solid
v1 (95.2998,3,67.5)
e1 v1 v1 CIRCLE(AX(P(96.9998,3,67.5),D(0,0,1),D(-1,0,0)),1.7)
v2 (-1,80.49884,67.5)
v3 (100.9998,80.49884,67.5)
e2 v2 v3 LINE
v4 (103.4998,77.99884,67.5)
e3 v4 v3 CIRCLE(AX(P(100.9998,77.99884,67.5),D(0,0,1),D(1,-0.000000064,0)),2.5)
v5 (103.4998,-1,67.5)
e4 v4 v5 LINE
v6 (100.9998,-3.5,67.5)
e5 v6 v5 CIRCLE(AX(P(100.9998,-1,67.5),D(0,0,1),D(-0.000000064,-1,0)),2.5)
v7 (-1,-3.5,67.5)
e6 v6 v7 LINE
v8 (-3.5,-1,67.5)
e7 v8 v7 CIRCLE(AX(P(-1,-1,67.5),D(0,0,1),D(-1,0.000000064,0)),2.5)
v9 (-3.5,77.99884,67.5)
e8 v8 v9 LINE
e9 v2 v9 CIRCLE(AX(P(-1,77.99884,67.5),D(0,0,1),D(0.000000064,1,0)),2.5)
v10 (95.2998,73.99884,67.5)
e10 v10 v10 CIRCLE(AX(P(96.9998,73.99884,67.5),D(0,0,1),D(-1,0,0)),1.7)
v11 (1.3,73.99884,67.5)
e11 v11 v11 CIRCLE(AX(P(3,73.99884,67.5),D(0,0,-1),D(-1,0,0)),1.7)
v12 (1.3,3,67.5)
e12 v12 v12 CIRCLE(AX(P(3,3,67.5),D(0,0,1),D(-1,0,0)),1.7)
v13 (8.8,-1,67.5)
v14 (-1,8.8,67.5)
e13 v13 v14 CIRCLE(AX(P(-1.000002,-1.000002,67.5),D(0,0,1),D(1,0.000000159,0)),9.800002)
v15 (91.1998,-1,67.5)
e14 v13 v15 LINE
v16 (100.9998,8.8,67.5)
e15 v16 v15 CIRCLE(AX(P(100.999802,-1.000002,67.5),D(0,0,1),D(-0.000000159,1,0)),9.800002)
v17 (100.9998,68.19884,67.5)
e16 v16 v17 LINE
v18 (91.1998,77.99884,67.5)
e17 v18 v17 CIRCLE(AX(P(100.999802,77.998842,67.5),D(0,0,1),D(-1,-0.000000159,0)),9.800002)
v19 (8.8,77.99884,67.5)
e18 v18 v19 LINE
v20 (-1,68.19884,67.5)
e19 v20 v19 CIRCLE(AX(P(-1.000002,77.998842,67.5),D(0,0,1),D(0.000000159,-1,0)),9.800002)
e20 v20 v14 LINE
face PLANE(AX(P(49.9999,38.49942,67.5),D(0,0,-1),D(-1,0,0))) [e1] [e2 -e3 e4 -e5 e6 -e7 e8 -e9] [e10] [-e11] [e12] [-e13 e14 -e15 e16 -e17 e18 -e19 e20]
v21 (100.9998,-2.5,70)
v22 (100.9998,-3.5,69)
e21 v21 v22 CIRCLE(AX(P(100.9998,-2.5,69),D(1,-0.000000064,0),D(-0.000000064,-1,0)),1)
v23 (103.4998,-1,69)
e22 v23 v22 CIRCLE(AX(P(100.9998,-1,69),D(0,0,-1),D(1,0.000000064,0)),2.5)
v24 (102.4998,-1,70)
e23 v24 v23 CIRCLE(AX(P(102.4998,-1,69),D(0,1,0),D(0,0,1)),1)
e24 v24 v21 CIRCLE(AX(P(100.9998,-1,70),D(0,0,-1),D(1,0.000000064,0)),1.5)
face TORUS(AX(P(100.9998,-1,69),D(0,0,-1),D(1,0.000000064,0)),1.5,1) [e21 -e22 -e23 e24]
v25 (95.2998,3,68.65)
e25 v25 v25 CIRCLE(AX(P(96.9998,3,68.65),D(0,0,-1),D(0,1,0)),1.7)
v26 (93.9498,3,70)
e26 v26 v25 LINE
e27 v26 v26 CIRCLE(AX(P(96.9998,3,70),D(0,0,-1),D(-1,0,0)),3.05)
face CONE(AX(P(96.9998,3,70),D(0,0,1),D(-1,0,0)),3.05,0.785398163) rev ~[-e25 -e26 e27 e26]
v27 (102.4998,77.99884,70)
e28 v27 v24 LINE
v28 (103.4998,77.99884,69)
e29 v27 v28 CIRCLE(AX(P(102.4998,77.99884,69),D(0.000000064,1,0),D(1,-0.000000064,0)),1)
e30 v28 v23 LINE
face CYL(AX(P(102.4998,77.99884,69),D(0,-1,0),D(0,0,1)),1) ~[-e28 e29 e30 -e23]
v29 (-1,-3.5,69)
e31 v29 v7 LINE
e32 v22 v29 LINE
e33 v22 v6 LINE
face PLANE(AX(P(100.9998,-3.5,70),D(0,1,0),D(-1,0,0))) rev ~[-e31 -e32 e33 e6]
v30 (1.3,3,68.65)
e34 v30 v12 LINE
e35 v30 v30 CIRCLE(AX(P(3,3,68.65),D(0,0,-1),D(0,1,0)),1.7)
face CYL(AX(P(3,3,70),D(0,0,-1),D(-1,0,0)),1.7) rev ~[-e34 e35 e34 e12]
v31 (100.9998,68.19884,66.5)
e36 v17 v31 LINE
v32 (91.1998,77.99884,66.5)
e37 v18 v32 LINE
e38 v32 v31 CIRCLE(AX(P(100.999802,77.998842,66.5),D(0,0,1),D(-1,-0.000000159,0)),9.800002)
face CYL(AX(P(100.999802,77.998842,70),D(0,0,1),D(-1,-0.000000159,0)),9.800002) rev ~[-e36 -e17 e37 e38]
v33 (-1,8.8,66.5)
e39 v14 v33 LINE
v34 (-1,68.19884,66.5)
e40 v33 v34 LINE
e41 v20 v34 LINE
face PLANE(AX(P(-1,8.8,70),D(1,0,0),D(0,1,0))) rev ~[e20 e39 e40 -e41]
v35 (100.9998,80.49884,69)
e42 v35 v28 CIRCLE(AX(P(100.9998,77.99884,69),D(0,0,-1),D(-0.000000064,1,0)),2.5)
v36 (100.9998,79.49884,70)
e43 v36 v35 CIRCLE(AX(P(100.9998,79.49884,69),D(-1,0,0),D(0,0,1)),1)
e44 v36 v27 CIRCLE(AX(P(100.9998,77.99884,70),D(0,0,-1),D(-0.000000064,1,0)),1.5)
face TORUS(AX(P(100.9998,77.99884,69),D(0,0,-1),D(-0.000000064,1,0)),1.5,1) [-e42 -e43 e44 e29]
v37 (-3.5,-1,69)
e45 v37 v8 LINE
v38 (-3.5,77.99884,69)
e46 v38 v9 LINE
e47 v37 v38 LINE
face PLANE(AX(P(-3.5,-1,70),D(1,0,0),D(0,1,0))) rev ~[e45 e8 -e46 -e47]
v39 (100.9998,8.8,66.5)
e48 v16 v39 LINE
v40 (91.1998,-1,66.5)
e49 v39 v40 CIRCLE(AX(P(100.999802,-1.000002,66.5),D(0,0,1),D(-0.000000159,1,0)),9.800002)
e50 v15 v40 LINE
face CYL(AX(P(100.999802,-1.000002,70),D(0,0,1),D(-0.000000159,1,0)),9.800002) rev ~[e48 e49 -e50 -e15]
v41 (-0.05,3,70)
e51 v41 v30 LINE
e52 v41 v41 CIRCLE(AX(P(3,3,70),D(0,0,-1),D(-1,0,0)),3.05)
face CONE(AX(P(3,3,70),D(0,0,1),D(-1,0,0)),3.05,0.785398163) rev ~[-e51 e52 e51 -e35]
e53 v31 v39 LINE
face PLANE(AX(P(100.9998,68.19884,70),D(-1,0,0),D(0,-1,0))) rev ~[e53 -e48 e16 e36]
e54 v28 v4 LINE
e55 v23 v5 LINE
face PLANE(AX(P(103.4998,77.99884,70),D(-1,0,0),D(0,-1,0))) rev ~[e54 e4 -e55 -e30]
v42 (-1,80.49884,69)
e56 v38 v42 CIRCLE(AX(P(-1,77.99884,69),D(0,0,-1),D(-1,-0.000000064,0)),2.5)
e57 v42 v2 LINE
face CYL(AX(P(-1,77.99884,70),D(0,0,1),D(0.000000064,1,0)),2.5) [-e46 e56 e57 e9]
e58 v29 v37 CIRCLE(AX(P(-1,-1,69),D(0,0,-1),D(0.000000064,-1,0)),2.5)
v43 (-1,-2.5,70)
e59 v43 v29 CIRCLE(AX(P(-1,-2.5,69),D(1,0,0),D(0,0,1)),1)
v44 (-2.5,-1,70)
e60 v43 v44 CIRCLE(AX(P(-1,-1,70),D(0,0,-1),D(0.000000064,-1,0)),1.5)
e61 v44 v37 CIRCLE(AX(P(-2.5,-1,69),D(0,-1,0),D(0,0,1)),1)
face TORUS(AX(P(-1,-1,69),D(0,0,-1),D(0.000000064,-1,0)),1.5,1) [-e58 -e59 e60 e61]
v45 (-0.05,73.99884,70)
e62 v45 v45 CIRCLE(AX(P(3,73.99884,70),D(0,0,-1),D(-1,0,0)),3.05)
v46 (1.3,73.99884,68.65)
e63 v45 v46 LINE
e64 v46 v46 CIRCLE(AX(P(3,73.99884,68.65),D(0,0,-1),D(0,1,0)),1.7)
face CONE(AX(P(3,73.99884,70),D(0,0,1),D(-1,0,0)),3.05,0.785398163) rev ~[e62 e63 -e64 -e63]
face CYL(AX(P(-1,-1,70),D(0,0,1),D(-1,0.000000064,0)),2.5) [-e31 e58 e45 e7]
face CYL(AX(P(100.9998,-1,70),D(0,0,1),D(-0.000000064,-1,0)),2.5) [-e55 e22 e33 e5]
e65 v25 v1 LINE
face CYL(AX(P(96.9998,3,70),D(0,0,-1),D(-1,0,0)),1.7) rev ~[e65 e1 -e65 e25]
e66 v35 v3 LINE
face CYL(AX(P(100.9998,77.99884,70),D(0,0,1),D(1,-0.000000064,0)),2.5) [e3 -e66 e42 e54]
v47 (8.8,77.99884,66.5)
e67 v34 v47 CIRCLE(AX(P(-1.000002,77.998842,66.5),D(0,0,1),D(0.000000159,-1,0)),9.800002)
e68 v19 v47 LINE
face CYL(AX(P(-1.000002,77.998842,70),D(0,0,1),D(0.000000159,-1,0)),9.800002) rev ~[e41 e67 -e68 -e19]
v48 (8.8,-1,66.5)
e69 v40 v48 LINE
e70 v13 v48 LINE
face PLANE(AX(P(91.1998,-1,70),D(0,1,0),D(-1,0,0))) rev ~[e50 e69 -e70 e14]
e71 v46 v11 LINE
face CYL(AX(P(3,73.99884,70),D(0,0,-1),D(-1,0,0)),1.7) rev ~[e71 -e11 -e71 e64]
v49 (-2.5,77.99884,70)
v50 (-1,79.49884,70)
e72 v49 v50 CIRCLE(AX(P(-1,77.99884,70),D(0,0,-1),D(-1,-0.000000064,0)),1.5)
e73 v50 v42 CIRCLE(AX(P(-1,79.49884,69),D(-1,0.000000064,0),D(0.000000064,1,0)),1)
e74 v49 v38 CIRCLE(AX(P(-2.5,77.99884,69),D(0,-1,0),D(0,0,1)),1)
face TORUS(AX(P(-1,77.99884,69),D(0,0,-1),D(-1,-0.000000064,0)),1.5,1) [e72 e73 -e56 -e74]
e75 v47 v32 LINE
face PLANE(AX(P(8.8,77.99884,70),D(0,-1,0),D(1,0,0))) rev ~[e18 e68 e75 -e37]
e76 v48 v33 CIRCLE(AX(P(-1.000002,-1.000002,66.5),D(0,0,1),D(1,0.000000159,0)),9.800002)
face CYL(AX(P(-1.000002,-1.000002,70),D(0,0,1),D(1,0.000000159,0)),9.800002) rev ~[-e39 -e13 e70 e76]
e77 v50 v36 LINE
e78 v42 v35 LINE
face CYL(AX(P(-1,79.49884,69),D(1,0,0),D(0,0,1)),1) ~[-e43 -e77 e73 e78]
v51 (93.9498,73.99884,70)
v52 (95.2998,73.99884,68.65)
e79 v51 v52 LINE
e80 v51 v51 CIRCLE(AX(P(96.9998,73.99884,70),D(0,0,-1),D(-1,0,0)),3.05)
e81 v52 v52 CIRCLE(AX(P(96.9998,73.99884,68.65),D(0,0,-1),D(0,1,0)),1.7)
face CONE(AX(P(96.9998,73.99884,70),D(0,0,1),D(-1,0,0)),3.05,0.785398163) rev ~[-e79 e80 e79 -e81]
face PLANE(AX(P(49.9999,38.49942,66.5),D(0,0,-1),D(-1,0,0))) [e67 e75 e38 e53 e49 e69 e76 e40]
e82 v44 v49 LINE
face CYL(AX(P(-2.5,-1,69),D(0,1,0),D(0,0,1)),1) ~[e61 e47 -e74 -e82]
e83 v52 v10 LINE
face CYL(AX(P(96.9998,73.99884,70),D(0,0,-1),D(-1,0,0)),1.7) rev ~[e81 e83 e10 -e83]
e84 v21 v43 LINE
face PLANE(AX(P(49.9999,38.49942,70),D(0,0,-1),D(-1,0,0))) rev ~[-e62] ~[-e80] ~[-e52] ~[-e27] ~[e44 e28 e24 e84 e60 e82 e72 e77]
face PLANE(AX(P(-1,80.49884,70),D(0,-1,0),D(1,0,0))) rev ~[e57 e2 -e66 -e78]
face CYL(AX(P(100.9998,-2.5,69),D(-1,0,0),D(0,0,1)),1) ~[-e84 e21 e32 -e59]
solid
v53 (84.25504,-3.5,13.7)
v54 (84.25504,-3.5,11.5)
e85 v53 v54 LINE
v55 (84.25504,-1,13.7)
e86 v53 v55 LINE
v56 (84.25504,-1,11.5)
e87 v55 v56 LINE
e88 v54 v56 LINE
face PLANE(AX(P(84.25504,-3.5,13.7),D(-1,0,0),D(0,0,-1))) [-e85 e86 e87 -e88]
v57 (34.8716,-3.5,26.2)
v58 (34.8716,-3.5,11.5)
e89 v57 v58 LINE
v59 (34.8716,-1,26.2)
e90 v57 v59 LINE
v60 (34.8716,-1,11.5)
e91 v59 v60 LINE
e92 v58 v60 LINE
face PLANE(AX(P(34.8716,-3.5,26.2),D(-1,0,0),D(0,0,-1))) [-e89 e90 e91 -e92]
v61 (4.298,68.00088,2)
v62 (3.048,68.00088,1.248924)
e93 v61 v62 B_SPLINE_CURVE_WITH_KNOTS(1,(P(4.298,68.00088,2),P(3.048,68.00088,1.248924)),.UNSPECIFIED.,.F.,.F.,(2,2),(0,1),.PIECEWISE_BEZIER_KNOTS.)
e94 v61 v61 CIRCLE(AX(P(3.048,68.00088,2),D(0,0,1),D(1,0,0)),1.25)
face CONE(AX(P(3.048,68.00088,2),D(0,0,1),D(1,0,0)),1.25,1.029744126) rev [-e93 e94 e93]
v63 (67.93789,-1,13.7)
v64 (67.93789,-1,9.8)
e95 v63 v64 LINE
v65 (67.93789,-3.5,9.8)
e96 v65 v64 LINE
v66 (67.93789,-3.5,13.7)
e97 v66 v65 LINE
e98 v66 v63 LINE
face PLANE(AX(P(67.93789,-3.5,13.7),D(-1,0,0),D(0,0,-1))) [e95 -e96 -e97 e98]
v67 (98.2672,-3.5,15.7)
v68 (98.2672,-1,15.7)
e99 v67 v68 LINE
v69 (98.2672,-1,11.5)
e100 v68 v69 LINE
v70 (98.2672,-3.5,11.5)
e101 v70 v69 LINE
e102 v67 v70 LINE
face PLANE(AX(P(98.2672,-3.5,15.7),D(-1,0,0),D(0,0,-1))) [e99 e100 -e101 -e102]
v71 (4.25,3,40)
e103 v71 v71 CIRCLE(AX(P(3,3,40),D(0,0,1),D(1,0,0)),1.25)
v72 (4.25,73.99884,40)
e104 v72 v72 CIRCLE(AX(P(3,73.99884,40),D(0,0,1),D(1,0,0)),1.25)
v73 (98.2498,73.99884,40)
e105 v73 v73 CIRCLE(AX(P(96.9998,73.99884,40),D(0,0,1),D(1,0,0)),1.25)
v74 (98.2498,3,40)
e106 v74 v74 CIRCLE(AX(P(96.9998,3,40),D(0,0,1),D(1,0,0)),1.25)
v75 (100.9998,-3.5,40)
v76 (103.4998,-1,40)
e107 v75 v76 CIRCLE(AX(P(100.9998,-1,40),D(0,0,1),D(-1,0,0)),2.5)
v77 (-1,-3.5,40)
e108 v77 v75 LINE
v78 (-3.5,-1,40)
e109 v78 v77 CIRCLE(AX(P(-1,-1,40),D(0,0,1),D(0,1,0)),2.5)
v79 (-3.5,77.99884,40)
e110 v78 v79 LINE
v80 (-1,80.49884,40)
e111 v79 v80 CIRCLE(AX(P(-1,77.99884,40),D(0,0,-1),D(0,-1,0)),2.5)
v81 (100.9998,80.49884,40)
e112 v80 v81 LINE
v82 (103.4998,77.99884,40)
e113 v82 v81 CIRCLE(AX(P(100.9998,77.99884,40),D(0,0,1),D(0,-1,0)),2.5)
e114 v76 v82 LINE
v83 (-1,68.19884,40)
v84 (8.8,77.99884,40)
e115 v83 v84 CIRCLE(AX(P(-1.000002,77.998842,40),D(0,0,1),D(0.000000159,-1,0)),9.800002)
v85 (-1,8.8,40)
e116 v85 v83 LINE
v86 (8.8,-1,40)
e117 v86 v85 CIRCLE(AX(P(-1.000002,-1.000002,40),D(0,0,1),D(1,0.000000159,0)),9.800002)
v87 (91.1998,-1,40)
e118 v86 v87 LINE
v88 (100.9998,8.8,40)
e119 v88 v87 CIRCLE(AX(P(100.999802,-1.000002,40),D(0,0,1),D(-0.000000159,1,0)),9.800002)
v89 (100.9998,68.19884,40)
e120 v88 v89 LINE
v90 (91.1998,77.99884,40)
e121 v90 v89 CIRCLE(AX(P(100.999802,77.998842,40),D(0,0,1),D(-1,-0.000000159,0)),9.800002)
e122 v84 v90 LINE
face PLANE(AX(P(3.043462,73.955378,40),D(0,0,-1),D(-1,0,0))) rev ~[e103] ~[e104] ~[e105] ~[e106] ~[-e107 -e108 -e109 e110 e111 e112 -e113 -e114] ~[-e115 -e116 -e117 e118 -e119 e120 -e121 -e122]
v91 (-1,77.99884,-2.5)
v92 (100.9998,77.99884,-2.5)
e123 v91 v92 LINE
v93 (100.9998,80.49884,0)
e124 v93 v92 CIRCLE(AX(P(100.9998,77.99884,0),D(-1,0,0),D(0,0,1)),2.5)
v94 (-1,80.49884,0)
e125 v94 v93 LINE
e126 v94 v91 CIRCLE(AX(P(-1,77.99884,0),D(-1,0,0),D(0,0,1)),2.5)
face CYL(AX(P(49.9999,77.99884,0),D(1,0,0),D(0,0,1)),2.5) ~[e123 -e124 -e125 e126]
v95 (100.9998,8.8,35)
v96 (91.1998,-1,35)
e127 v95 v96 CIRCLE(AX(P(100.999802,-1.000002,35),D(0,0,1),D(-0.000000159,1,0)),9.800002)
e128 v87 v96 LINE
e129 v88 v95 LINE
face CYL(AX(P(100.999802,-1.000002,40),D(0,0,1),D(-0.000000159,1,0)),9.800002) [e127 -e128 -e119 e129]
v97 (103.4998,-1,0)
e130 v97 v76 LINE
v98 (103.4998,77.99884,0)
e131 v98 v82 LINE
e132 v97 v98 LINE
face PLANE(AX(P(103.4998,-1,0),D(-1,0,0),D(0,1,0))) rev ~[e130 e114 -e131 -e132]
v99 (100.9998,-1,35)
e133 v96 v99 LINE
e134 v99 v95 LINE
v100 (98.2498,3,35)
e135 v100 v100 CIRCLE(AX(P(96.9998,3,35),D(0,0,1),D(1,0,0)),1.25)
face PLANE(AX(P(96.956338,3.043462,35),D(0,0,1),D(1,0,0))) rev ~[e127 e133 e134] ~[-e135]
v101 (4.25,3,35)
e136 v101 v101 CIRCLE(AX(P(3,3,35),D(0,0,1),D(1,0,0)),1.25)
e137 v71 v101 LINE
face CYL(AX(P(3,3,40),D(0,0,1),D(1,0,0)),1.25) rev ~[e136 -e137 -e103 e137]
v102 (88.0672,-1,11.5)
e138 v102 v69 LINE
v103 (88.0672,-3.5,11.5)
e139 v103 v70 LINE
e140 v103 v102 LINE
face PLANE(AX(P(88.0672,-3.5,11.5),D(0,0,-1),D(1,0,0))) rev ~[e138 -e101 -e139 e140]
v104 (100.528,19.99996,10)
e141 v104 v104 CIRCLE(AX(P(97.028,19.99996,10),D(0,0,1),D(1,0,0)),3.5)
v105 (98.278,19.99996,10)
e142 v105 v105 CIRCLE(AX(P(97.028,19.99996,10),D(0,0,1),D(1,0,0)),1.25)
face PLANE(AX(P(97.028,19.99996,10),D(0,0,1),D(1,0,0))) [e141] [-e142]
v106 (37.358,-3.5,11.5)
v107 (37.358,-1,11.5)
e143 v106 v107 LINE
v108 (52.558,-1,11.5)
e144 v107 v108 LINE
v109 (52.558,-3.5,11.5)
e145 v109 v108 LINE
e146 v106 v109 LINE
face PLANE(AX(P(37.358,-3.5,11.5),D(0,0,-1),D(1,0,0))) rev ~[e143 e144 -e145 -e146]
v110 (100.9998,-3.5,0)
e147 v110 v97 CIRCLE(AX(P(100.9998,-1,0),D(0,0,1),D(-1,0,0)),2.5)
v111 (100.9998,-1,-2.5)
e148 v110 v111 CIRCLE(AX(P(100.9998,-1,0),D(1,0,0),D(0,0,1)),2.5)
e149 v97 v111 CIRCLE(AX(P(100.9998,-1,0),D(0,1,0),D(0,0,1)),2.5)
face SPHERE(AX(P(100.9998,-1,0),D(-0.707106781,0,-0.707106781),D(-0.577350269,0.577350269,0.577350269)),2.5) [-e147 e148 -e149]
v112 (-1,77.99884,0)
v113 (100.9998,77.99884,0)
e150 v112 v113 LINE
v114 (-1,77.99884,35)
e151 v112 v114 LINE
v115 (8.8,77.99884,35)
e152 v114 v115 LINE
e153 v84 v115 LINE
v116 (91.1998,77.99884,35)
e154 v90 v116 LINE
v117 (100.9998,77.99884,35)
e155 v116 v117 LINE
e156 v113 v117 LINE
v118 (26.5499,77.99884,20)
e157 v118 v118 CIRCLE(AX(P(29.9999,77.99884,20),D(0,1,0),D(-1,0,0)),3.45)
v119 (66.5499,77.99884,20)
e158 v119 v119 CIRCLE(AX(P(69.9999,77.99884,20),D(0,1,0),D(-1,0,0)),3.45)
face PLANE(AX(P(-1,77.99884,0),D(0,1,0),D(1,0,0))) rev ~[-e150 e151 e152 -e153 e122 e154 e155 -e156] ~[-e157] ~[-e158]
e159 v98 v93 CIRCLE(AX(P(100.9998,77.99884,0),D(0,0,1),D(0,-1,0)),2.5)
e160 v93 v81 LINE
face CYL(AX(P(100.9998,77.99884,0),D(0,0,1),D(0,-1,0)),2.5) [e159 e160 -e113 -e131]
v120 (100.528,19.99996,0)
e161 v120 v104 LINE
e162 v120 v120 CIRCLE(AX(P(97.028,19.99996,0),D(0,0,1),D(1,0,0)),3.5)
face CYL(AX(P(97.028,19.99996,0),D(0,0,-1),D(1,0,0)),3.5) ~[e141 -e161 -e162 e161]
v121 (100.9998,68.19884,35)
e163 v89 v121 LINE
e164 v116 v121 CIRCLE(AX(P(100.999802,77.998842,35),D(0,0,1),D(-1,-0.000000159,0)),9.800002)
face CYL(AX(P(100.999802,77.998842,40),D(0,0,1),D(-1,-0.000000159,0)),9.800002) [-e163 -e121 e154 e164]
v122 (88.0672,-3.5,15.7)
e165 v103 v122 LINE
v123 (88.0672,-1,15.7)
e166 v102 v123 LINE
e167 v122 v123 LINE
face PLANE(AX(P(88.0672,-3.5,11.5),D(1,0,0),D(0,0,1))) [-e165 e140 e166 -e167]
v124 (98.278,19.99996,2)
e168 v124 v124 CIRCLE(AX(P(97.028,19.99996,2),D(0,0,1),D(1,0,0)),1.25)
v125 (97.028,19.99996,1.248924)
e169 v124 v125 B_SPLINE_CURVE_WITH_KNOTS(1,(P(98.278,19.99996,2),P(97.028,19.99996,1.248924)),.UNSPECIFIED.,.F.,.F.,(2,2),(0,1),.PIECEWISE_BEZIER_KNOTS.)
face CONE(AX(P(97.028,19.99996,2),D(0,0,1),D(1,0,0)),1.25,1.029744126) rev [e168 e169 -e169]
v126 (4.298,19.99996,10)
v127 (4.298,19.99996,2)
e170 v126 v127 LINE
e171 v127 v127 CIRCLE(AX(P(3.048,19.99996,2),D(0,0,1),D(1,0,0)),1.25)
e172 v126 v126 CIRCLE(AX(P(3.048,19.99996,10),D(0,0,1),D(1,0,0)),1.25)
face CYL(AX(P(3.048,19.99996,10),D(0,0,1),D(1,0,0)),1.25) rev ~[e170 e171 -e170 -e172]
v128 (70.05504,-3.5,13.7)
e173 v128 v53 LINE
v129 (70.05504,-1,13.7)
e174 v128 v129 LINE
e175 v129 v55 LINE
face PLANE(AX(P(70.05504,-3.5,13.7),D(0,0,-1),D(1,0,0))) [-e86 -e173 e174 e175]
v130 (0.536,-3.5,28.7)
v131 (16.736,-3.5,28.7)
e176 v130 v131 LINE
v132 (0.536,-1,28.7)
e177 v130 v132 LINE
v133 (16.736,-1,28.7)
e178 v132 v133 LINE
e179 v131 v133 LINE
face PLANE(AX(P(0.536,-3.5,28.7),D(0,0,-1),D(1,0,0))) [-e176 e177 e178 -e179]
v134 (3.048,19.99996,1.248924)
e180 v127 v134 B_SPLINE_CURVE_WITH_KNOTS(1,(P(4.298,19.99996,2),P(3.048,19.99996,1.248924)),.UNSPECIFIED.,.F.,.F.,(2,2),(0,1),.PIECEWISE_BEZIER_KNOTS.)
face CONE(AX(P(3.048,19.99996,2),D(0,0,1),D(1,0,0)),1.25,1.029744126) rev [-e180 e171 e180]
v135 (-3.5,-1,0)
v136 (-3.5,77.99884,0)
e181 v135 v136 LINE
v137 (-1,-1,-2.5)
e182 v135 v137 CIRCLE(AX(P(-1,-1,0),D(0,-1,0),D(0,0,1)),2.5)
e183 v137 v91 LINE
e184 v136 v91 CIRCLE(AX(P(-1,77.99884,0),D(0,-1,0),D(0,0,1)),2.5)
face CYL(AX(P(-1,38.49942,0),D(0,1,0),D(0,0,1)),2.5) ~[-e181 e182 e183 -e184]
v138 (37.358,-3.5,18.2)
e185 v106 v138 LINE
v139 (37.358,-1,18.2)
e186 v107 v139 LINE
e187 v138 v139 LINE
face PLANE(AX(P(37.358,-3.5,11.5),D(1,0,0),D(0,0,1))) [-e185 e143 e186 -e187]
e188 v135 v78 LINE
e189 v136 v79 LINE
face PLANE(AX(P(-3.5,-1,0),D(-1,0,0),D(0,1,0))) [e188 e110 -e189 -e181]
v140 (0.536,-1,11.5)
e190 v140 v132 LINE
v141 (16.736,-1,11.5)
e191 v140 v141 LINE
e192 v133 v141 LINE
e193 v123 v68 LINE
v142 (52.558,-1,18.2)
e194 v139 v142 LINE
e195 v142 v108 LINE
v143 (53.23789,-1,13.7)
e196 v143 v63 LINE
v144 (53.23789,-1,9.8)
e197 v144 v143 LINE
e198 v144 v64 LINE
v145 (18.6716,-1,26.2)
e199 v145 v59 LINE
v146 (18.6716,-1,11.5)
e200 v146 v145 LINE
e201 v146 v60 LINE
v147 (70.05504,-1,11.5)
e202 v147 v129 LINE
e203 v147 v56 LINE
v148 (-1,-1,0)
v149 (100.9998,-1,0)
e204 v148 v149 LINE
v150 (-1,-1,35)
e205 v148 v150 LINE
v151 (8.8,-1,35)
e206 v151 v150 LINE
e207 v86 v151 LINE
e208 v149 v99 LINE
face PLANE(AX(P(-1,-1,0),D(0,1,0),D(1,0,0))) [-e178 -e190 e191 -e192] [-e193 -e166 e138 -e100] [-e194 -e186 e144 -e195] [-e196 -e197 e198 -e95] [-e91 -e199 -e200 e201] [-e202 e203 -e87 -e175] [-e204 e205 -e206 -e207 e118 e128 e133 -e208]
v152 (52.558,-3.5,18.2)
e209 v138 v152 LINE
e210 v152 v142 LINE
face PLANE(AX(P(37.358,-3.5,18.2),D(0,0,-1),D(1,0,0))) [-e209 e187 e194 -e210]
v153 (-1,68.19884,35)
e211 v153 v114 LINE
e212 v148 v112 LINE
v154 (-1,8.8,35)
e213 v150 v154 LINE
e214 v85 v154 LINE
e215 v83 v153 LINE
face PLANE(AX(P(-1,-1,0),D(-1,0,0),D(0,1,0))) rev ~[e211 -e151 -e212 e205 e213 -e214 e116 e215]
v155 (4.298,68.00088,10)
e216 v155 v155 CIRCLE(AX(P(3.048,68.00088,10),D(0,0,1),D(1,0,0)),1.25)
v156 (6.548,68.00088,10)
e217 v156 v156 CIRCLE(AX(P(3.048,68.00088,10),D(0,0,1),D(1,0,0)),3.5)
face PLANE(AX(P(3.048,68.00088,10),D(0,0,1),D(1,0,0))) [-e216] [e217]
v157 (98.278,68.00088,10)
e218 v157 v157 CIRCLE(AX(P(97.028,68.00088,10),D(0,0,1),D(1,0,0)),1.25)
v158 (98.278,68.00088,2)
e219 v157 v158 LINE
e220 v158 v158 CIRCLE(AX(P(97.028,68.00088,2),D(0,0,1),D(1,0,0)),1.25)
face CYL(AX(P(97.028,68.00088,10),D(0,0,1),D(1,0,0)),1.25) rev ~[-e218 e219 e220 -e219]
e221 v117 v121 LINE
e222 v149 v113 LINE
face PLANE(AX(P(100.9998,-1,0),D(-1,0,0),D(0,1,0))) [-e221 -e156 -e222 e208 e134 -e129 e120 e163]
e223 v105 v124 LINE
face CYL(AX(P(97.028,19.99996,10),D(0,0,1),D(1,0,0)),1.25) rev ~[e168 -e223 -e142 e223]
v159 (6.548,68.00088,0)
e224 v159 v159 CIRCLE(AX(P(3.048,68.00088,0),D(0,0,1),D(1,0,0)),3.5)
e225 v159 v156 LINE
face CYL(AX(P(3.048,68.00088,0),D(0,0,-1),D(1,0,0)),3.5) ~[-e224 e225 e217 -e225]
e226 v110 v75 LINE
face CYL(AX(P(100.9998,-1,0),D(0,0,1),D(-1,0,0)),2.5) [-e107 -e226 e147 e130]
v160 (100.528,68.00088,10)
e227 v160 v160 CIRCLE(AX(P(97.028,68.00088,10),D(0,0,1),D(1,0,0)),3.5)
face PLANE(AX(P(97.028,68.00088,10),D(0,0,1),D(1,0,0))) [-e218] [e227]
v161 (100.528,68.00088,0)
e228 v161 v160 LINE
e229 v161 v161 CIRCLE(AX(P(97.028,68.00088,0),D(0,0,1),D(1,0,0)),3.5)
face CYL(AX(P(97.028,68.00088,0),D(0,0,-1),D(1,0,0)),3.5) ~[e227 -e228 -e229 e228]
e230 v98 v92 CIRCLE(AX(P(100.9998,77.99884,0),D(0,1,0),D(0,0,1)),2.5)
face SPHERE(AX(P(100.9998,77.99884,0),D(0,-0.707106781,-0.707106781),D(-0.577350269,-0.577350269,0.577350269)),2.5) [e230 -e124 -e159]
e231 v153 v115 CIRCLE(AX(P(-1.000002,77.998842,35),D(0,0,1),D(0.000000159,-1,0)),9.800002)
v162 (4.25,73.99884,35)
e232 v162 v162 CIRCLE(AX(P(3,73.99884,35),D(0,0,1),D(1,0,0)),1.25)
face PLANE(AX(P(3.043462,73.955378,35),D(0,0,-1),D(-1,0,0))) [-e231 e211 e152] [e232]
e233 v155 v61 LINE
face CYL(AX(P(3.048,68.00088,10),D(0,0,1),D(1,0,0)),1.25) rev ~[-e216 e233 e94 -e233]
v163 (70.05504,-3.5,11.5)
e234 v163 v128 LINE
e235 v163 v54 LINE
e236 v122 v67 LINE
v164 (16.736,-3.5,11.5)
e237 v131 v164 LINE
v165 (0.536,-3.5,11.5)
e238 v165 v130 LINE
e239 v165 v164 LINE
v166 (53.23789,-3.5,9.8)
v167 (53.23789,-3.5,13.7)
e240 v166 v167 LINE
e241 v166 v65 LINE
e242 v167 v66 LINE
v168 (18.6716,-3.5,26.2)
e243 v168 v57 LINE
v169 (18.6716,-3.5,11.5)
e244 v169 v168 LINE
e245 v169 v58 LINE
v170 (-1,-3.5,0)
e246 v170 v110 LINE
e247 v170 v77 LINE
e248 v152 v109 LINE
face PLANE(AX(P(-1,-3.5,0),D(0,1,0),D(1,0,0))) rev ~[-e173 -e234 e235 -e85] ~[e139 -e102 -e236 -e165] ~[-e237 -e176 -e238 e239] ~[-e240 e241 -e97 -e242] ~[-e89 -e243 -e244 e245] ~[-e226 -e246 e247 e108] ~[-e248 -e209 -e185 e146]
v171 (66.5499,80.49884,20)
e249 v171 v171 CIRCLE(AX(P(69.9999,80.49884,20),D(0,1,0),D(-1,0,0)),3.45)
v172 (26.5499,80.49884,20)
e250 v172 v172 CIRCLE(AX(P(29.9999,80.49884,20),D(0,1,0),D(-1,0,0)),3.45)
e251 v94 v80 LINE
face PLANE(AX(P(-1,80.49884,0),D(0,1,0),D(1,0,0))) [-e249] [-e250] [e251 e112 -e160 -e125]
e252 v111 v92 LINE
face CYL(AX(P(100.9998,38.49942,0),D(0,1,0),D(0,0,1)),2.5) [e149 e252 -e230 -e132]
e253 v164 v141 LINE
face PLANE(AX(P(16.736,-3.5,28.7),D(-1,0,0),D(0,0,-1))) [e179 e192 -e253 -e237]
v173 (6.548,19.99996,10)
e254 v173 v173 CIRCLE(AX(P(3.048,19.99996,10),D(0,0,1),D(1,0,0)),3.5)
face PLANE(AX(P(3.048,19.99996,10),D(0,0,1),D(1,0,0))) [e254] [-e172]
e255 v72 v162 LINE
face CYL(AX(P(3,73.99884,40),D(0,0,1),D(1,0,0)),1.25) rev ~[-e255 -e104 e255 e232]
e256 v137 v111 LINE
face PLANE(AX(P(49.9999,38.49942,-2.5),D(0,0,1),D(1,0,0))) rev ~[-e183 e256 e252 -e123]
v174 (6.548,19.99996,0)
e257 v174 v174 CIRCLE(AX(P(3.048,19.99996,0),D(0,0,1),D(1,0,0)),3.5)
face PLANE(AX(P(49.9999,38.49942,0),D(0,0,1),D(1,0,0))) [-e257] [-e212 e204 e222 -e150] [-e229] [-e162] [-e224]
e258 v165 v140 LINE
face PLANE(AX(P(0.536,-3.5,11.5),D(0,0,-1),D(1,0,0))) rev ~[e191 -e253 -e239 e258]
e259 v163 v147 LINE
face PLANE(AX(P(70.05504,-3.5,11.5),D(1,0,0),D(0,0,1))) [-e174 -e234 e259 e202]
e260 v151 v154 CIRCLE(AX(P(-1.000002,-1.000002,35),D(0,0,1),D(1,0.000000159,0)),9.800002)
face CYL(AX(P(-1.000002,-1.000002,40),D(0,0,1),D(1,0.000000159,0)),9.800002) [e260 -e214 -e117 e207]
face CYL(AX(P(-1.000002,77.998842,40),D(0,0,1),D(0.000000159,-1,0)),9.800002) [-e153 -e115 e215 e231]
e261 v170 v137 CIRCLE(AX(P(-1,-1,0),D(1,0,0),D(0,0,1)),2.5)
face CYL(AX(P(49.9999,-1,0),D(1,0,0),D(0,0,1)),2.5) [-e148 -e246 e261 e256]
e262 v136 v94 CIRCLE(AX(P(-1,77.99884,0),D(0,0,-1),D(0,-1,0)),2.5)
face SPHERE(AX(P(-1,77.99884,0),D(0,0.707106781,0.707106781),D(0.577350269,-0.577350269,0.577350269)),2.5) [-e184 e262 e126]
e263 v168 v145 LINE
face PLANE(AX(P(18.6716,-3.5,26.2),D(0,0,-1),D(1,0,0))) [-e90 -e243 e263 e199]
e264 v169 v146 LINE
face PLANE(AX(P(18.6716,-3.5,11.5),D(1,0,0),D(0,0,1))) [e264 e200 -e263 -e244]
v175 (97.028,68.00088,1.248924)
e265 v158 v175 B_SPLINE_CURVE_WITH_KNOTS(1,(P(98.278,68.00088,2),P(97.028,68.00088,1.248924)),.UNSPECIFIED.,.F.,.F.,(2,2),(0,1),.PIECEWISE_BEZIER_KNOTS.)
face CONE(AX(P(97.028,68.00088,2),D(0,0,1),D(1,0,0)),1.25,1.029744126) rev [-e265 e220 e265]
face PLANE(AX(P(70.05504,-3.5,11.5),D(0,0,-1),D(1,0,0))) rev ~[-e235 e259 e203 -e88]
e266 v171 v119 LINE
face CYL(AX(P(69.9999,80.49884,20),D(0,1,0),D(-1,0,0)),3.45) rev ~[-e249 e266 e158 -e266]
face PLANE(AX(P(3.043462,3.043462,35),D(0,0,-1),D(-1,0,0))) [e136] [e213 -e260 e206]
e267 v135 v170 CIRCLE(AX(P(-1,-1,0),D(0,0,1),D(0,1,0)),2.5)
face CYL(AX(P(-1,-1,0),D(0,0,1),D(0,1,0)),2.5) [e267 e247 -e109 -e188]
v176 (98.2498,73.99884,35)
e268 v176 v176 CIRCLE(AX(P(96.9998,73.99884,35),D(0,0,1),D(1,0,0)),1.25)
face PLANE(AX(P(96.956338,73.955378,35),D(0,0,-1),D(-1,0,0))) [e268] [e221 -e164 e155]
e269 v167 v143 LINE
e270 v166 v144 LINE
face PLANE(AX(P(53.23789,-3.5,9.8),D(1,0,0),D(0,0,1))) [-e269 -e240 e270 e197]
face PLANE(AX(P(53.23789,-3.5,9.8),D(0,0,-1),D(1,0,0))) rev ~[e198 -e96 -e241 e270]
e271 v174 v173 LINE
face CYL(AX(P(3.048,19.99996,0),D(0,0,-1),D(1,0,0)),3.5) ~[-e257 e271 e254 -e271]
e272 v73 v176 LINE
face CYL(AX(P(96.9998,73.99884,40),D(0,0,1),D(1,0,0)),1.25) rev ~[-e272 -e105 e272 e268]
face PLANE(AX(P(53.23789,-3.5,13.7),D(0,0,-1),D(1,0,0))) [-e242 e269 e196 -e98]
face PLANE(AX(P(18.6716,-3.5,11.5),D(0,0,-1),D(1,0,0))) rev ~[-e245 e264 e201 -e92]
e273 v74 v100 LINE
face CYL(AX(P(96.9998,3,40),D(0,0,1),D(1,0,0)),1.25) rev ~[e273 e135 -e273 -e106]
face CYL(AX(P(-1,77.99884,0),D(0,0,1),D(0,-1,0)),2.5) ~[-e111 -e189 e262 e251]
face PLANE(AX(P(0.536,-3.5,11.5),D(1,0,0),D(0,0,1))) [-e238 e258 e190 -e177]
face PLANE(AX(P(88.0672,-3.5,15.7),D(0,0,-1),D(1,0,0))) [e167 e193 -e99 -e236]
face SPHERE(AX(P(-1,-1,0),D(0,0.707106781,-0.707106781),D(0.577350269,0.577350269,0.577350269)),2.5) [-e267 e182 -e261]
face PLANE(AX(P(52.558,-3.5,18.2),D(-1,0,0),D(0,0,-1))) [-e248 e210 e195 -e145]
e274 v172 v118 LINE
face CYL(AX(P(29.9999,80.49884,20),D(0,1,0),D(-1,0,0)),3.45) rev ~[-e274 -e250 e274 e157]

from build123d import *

# Parameters (mm, degrees)
SKETCH_W            = 101.9998
SKETCH_H            = 78.99884
PAD_DEPTH           = 40
THICKNESS_T         = 2.5
SKETCH001_R         = 3.5
PAD001_DEPTH        = 10
POCKET001_DEPTH     = 2.5
PAD002_DEPTH        = 5
SKETCH005_R         = 1.25
HOLE_DEPTH          = 10
HOLE_TIPS_R         = 1.25
SKETCH009_R         = 3.45
HOLE002_DEPTH       = 25
HOLE002_TIPS_R      = 3.45
SKETCH002_R         = 1.25
HOLE003_DEPTH       = 8
HOLE003_TIPS_R      = 1.25
PAD003_DEPTH        = 2.5
PAD004_DEPTH        = 3.5
HOLE001_D           = 3.4
HOLE001_DEPTH       = 2.5
HOLE001_CSINK_D     = 6.1
HOLE001_CSINK_ANGLE = 90
HOLE001_TIPS_R      = 1.7
FILLET_R            = 1


with BuildPart() as body_bottom:
    # Sketch → Pad (new body)
    with BuildSketch(Plane.XY):
        with Locations((49.9999, 38.49942)):
            Rectangle(SKETCH_W, SKETCH_H)
    extrude(amount=PAD_DEPTH)

    # Thickness
    thickness_openings = [body_bottom.faces().sort_by_distance(p)[0] for p in [
        (49.9999, 38.49942, 40),
    ]]
    offset(amount=THICKNESS_T, openings=thickness_openings)

    # Sketch001 (on Face5 of Thickness) → Pad001 (join)
    with BuildSketch(Plane.XY):
        with Locations((3.048, 68.00088)):
            Circle(SKETCH001_R)
        with Locations((97.028, 68.00088)):
            Circle(SKETCH001_R)
        with Locations((97.028, 19.99996)):
            Circle(SKETCH001_R)
        with Locations((3.048, 19.99996)):
            Circle(SKETCH001_R)
    extrude(amount=PAD001_DEPTH)

    # Sketch003 → Pocket001 (cut)
    with BuildSketch(Plane.XZ.offset(3.5)):
        Polygon((0.536, 28.7), (16.736, 28.7), (16.736, 11.5), (8.636, 11.5), (0.536, 11.5), align=None)
        Polygon((18.6716, 26.2), (34.8716, 26.2), (34.8716, 11.5), (26.7716, 11.5), (18.6716, 11.5), align=None)
        Polygon((37.358, 18.2), (52.558, 18.2), (52.558, 11.5), (44.958, 11.5), (37.358, 11.5), align=None)
        Polygon((53.23789, 13.7), (67.93789, 13.7), (67.93789, 9.8), (60.58789, 9.8), (53.23789, 9.8), align=None)
        Polygon((70.05504, 13.7), (84.25504, 13.7), (84.25504, 11.5), (77.15504, 11.5), (70.05504, 11.5), align=None)
        Polygon((88.0672, 15.7), (98.2672, 15.7), (98.2672, 11.5), (93.1672, 11.5), (88.0672, 11.5), align=None)
    extrude(amount=-POCKET001_DEPTH, mode=Mode.SUBTRACT)

    # Sketch004 (on Face5 of Pocket001) → Pad002 (join)
    with BuildSketch(Plane.XY.offset(40)):
        with BuildLine():
            Line((-1, 77.99884), (8.8, 77.99884))
            ThreePointArc((-1, 68.19884), (5.929646, 71.069194), (8.8, 77.99884))
            Line((-1, 68.19884), (-1, 77.99884))
        make_face()
        with BuildLine():
            Line((-1, -1), (-1, 8.8))
            ThreePointArc((8.8, -1), (5.929646, 5.929646), (-1, 8.8))
            Line((8.8, -1), (-1, -1))
        make_face()
        with BuildLine():
            Line((91.1998, 77.99884), (100.9998, 77.99884))
            Line((100.9998, 77.99884), (100.9998, 68.19884))
            ThreePointArc((91.1998, 77.99884), (94.070154, 71.069194), (100.9998, 68.19884))
        make_face()
        with BuildLine():
            Line((91.1998, -1), (100.9998, -1))
            Line((100.9998, -1), (100.9998, 8.8))
            ThreePointArc((100.9998, 8.8), (94.070154, 5.929646), (91.1998, -1))
        make_face()
    extrude(amount=-PAD002_DEPTH)

    # Sketch005 (on Face17 of Pad002) → Hole (cut)
    with BuildSketch(Plane.XY.offset(40)):
        with Locations((3, 73.99884)):
            Circle(SKETCH005_R)
        with Locations((96.9998, 73.99884)):
            Circle(SKETCH005_R)
        with Locations((96.9998, 3)):
            Circle(SKETCH005_R)
        with Locations((3, 3)):
            Circle(SKETCH005_R)
    extrude(amount=-HOLE_DEPTH, mode=Mode.SUBTRACT)

    # Hole tips → Hole tip 1 section 0
    with BuildSketch(Plane.XY.offset(30), mode=Mode.PRIVATE) as hole_tip_1_s0:
        with Locations((3, 73.99884)):
            Circle(HOLE_TIPS_R)
    loft([hole_tip_1_s0.sketch, Vertex(3, 73.99884, 29.248924)], mode=Mode.SUBTRACT)

    # Hole tips → Hole tip 2 section 0
    with BuildSketch(Plane.XY.offset(30), mode=Mode.PRIVATE) as hole_tip_2_s0:
        with Locations((96.9998, 73.99884)):
            Circle(HOLE_TIPS_R)
    loft([hole_tip_2_s0.sketch, Vertex(96.9998, 73.99884, 29.248924)], mode=Mode.SUBTRACT)

    # Hole tips → Hole tip 3 section 0
    with BuildSketch(Plane.XY.offset(30), mode=Mode.PRIVATE) as hole_tip_3_s0:
        with Locations((96.9998, 3)):
            Circle(HOLE_TIPS_R)
    loft([hole_tip_3_s0.sketch, Vertex(96.9998, 3, 29.248924)], mode=Mode.SUBTRACT)

    # Hole tips → Hole tip 4 section 0
    with BuildSketch(Plane.XY.offset(30), mode=Mode.PRIVATE) as hole_tip_4_s0:
        with Locations((3, 3)):
            Circle(HOLE_TIPS_R)
    loft([hole_tip_4_s0.sketch, Vertex(3, 3, 29.248924)], mode=Mode.SUBTRACT)

    # Sketch009 (on Face24 of Hole) → Hole002 (cut)
    with BuildSketch(Plane(origin=(0, 80.49884, 0), x_dir=(-1, 0, 0), z_dir=(0, 1, 0))):
        with Locations((-69.9999, 20)):
            Circle(SKETCH009_R)
        with Locations((-29.9999, 20)):
            Circle(SKETCH009_R)
    extrude(amount=-HOLE002_DEPTH, mode=Mode.SUBTRACT)

    # Hole002 tips → Hole002 tip 1 section 0
    with BuildSketch(Plane(origin=(0, 55.49884, 0), x_dir=(-1, 0, 0), z_dir=(0, 1, 0)), mode=Mode.PRIVATE) as hole002_tip_1_s0:
        with Locations((-69.9999, 20)):
            Circle(HOLE002_TIPS_R)
    loft([hole002_tip_1_s0.sketch, Vertex(69.9999, 53.425871, 20)], mode=Mode.SUBTRACT)

    # Hole002 tips → Hole002 tip 2 section 0
    with BuildSketch(Plane(origin=(0, 55.49884, 0), x_dir=(-1, 0, 0), z_dir=(0, 1, 0)), mode=Mode.PRIVATE) as hole002_tip_2_s0:
        with Locations((-29.9999, 20)):
            Circle(HOLE002_TIPS_R)
    loft([hole002_tip_2_s0.sketch, Vertex(29.9999, 53.425871, 20)], mode=Mode.SUBTRACT)

    # Sketch002 (on Face19 of Pad001) → Hole003 (cut)
    with BuildSketch(Plane.XY.offset(10)):
        with Locations((3.048, 68.00088)):
            Circle(SKETCH002_R)
        with Locations((97.028, 68.00088)):
            Circle(SKETCH002_R)
        with Locations((97.028, 19.99996)):
            Circle(SKETCH002_R)
        with Locations((3.048, 19.99996)):
            Circle(SKETCH002_R)
    extrude(amount=-HOLE003_DEPTH, mode=Mode.SUBTRACT)

    # Hole003 tips → Hole003 tip 1 section 0
    with BuildSketch(Plane.XY.offset(2), mode=Mode.PRIVATE) as hole003_tip_1_s0:
        with Locations((3.048, 68.00088)):
            Circle(HOLE003_TIPS_R)
    loft([hole003_tip_1_s0.sketch, Vertex(3.048, 68.00088, 1.248924)], mode=Mode.SUBTRACT)

    # Hole003 tips → Hole003 tip 2 section 0
    with BuildSketch(Plane.XY.offset(2), mode=Mode.PRIVATE) as hole003_tip_2_s0:
        with Locations((97.028, 68.00088)):
            Circle(HOLE003_TIPS_R)
    loft([hole003_tip_2_s0.sketch, Vertex(97.028, 68.00088, 1.248924)], mode=Mode.SUBTRACT)

    # Hole003 tips → Hole003 tip 3 section 0
    with BuildSketch(Plane.XY.offset(2), mode=Mode.PRIVATE) as hole003_tip_3_s0:
        with Locations((97.028, 19.99996)):
            Circle(HOLE003_TIPS_R)
    loft([hole003_tip_3_s0.sketch, Vertex(97.028, 19.99996, 1.248924)], mode=Mode.SUBTRACT)

    # Hole003 tips → Hole003 tip 4 section 0
    with BuildSketch(Plane.XY.offset(2), mode=Mode.PRIVATE) as hole003_tip_4_s0:
        with Locations((3.048, 19.99996)):
            Circle(HOLE003_TIPS_R)
    loft([hole003_tip_4_s0.sketch, Vertex(3.048, 19.99996, 1.248924)], mode=Mode.SUBTRACT)


with BuildPart() as body_lid:
    # Sketch006 → Pad003 (new body)
    with BuildSketch(Plane.XY.offset(70)):
        with BuildLine():
            Line((-1, 80.49884), (100.9998, 80.49884))
            ThreePointArc((103.4998, 77.99884), (102.767567, 79.766607), (100.9998, 80.49884))
            Line((103.4998, 77.99884), (103.4998, -1))
            ThreePointArc((100.9998, -3.5), (102.767567, -2.767767), (103.4998, -1))
            Line((100.9998, -3.5), (-1, -3.5))
            ThreePointArc((-3.5, -1), (-2.767767, -2.767767), (-1, -3.5))
            Line((-3.5, -1), (-3.5, 77.99884))
            ThreePointArc((-1, 80.49884), (-2.767767, 79.766607), (-3.5, 77.99884))
        make_face()
    extrude(amount=-PAD003_DEPTH)

    # Sketch007 (on Face9 of Pad003) → Pad004 (join)
    with BuildSketch(Plane.XY.offset(70)):
        with BuildLine():
            Line((8.8, 77.99884), (91.1998, 77.99884))
            ThreePointArc((91.1998, 77.99884), (94.070154, 71.069194), (100.9998, 68.19884))
            Line((100.9998, 68.19884), (100.9998, 8.8))
            ThreePointArc((100.9998, 8.8), (94.070154, 5.929646), (91.1998, -1))
            Line((91.1998, -1), (8.8, -1))
            ThreePointArc((8.8, -1), (5.929646, 5.929646), (-1, 8.8))
            Line((-1, 8.8), (-1, 68.19884))
            ThreePointArc((-1, 68.19884), (5.929646, 71.069194), (8.8, 77.99884))
        make_face()
    extrude(amount=-PAD004_DEPTH)

    # Hole001
    with Locations(Plane.XY.offset(70)):
        with Locations((96.9998, 3), (3, 3), (3, 73.99884), (96.9998, 73.99884)):
            CounterSinkHole(HOLE001_D / 2, HOLE001_CSINK_D / 2, depth=HOLE001_DEPTH, counter_sink_angle=HOLE001_CSINK_ANGLE)

    # Hole001 tips → Hole001 tip 1 section 0
    with BuildSketch(Plane.XY.offset(67.5), mode=Mode.PRIVATE) as hole001_tip_1_s0:
        with Locations((96.9998, 3)):
            Circle(HOLE001_TIPS_R)
    loft([hole001_tip_1_s0.sketch, Vertex(96.9998, 3, 66.478537)], mode=Mode.SUBTRACT)

    # Hole001 tips → Hole001 tip 2 section 0
    with BuildSketch(Plane.XY.offset(67.5), mode=Mode.PRIVATE) as hole001_tip_2_s0:
        with Locations((3, 3)):
            Circle(HOLE001_TIPS_R)
    loft([hole001_tip_2_s0.sketch, Vertex(3, 3, 66.478537)], mode=Mode.SUBTRACT)

    # Hole001 tips → Hole001 tip 3 section 0
    with BuildSketch(Plane.XY.offset(67.5), mode=Mode.PRIVATE) as hole001_tip_3_s0:
        with Locations((3, 73.99884)):
            Circle(HOLE001_TIPS_R)
    loft([hole001_tip_3_s0.sketch, Vertex(3, 73.99884, 66.478537)], mode=Mode.SUBTRACT)

    # Hole001 tips → Hole001 tip 4 section 0
    with BuildSketch(Plane.XY.offset(67.5), mode=Mode.PRIVATE) as hole001_tip_4_s0:
        with Locations((96.9998, 73.99884)):
            Circle(HOLE001_TIPS_R)
    loft([hole001_tip_4_s0.sketch, Vertex(96.9998, 73.99884, 66.478537)], mode=Mode.SUBTRACT)

    # Fillet
    fillet_edges = [body_lid.edges().sort_by_distance(p)[0] for p in [
        (-3.5, 38.49942, 70),
        (-2.767767, -2.767767, 70),
        (49.9999, -3.5, 70),
        (102.767567, -2.767767, 70),
        (103.4998, 38.49942, 70),
        (102.767567, 79.766607, 70),
        (49.9999, 80.49884, 70),
        (-2.767767, 79.766607, 70),
    ]]
    fillet(fillet_edges, radius=FILLET_R)


solid = Compound([body_bottom.part, body_lid.part])
